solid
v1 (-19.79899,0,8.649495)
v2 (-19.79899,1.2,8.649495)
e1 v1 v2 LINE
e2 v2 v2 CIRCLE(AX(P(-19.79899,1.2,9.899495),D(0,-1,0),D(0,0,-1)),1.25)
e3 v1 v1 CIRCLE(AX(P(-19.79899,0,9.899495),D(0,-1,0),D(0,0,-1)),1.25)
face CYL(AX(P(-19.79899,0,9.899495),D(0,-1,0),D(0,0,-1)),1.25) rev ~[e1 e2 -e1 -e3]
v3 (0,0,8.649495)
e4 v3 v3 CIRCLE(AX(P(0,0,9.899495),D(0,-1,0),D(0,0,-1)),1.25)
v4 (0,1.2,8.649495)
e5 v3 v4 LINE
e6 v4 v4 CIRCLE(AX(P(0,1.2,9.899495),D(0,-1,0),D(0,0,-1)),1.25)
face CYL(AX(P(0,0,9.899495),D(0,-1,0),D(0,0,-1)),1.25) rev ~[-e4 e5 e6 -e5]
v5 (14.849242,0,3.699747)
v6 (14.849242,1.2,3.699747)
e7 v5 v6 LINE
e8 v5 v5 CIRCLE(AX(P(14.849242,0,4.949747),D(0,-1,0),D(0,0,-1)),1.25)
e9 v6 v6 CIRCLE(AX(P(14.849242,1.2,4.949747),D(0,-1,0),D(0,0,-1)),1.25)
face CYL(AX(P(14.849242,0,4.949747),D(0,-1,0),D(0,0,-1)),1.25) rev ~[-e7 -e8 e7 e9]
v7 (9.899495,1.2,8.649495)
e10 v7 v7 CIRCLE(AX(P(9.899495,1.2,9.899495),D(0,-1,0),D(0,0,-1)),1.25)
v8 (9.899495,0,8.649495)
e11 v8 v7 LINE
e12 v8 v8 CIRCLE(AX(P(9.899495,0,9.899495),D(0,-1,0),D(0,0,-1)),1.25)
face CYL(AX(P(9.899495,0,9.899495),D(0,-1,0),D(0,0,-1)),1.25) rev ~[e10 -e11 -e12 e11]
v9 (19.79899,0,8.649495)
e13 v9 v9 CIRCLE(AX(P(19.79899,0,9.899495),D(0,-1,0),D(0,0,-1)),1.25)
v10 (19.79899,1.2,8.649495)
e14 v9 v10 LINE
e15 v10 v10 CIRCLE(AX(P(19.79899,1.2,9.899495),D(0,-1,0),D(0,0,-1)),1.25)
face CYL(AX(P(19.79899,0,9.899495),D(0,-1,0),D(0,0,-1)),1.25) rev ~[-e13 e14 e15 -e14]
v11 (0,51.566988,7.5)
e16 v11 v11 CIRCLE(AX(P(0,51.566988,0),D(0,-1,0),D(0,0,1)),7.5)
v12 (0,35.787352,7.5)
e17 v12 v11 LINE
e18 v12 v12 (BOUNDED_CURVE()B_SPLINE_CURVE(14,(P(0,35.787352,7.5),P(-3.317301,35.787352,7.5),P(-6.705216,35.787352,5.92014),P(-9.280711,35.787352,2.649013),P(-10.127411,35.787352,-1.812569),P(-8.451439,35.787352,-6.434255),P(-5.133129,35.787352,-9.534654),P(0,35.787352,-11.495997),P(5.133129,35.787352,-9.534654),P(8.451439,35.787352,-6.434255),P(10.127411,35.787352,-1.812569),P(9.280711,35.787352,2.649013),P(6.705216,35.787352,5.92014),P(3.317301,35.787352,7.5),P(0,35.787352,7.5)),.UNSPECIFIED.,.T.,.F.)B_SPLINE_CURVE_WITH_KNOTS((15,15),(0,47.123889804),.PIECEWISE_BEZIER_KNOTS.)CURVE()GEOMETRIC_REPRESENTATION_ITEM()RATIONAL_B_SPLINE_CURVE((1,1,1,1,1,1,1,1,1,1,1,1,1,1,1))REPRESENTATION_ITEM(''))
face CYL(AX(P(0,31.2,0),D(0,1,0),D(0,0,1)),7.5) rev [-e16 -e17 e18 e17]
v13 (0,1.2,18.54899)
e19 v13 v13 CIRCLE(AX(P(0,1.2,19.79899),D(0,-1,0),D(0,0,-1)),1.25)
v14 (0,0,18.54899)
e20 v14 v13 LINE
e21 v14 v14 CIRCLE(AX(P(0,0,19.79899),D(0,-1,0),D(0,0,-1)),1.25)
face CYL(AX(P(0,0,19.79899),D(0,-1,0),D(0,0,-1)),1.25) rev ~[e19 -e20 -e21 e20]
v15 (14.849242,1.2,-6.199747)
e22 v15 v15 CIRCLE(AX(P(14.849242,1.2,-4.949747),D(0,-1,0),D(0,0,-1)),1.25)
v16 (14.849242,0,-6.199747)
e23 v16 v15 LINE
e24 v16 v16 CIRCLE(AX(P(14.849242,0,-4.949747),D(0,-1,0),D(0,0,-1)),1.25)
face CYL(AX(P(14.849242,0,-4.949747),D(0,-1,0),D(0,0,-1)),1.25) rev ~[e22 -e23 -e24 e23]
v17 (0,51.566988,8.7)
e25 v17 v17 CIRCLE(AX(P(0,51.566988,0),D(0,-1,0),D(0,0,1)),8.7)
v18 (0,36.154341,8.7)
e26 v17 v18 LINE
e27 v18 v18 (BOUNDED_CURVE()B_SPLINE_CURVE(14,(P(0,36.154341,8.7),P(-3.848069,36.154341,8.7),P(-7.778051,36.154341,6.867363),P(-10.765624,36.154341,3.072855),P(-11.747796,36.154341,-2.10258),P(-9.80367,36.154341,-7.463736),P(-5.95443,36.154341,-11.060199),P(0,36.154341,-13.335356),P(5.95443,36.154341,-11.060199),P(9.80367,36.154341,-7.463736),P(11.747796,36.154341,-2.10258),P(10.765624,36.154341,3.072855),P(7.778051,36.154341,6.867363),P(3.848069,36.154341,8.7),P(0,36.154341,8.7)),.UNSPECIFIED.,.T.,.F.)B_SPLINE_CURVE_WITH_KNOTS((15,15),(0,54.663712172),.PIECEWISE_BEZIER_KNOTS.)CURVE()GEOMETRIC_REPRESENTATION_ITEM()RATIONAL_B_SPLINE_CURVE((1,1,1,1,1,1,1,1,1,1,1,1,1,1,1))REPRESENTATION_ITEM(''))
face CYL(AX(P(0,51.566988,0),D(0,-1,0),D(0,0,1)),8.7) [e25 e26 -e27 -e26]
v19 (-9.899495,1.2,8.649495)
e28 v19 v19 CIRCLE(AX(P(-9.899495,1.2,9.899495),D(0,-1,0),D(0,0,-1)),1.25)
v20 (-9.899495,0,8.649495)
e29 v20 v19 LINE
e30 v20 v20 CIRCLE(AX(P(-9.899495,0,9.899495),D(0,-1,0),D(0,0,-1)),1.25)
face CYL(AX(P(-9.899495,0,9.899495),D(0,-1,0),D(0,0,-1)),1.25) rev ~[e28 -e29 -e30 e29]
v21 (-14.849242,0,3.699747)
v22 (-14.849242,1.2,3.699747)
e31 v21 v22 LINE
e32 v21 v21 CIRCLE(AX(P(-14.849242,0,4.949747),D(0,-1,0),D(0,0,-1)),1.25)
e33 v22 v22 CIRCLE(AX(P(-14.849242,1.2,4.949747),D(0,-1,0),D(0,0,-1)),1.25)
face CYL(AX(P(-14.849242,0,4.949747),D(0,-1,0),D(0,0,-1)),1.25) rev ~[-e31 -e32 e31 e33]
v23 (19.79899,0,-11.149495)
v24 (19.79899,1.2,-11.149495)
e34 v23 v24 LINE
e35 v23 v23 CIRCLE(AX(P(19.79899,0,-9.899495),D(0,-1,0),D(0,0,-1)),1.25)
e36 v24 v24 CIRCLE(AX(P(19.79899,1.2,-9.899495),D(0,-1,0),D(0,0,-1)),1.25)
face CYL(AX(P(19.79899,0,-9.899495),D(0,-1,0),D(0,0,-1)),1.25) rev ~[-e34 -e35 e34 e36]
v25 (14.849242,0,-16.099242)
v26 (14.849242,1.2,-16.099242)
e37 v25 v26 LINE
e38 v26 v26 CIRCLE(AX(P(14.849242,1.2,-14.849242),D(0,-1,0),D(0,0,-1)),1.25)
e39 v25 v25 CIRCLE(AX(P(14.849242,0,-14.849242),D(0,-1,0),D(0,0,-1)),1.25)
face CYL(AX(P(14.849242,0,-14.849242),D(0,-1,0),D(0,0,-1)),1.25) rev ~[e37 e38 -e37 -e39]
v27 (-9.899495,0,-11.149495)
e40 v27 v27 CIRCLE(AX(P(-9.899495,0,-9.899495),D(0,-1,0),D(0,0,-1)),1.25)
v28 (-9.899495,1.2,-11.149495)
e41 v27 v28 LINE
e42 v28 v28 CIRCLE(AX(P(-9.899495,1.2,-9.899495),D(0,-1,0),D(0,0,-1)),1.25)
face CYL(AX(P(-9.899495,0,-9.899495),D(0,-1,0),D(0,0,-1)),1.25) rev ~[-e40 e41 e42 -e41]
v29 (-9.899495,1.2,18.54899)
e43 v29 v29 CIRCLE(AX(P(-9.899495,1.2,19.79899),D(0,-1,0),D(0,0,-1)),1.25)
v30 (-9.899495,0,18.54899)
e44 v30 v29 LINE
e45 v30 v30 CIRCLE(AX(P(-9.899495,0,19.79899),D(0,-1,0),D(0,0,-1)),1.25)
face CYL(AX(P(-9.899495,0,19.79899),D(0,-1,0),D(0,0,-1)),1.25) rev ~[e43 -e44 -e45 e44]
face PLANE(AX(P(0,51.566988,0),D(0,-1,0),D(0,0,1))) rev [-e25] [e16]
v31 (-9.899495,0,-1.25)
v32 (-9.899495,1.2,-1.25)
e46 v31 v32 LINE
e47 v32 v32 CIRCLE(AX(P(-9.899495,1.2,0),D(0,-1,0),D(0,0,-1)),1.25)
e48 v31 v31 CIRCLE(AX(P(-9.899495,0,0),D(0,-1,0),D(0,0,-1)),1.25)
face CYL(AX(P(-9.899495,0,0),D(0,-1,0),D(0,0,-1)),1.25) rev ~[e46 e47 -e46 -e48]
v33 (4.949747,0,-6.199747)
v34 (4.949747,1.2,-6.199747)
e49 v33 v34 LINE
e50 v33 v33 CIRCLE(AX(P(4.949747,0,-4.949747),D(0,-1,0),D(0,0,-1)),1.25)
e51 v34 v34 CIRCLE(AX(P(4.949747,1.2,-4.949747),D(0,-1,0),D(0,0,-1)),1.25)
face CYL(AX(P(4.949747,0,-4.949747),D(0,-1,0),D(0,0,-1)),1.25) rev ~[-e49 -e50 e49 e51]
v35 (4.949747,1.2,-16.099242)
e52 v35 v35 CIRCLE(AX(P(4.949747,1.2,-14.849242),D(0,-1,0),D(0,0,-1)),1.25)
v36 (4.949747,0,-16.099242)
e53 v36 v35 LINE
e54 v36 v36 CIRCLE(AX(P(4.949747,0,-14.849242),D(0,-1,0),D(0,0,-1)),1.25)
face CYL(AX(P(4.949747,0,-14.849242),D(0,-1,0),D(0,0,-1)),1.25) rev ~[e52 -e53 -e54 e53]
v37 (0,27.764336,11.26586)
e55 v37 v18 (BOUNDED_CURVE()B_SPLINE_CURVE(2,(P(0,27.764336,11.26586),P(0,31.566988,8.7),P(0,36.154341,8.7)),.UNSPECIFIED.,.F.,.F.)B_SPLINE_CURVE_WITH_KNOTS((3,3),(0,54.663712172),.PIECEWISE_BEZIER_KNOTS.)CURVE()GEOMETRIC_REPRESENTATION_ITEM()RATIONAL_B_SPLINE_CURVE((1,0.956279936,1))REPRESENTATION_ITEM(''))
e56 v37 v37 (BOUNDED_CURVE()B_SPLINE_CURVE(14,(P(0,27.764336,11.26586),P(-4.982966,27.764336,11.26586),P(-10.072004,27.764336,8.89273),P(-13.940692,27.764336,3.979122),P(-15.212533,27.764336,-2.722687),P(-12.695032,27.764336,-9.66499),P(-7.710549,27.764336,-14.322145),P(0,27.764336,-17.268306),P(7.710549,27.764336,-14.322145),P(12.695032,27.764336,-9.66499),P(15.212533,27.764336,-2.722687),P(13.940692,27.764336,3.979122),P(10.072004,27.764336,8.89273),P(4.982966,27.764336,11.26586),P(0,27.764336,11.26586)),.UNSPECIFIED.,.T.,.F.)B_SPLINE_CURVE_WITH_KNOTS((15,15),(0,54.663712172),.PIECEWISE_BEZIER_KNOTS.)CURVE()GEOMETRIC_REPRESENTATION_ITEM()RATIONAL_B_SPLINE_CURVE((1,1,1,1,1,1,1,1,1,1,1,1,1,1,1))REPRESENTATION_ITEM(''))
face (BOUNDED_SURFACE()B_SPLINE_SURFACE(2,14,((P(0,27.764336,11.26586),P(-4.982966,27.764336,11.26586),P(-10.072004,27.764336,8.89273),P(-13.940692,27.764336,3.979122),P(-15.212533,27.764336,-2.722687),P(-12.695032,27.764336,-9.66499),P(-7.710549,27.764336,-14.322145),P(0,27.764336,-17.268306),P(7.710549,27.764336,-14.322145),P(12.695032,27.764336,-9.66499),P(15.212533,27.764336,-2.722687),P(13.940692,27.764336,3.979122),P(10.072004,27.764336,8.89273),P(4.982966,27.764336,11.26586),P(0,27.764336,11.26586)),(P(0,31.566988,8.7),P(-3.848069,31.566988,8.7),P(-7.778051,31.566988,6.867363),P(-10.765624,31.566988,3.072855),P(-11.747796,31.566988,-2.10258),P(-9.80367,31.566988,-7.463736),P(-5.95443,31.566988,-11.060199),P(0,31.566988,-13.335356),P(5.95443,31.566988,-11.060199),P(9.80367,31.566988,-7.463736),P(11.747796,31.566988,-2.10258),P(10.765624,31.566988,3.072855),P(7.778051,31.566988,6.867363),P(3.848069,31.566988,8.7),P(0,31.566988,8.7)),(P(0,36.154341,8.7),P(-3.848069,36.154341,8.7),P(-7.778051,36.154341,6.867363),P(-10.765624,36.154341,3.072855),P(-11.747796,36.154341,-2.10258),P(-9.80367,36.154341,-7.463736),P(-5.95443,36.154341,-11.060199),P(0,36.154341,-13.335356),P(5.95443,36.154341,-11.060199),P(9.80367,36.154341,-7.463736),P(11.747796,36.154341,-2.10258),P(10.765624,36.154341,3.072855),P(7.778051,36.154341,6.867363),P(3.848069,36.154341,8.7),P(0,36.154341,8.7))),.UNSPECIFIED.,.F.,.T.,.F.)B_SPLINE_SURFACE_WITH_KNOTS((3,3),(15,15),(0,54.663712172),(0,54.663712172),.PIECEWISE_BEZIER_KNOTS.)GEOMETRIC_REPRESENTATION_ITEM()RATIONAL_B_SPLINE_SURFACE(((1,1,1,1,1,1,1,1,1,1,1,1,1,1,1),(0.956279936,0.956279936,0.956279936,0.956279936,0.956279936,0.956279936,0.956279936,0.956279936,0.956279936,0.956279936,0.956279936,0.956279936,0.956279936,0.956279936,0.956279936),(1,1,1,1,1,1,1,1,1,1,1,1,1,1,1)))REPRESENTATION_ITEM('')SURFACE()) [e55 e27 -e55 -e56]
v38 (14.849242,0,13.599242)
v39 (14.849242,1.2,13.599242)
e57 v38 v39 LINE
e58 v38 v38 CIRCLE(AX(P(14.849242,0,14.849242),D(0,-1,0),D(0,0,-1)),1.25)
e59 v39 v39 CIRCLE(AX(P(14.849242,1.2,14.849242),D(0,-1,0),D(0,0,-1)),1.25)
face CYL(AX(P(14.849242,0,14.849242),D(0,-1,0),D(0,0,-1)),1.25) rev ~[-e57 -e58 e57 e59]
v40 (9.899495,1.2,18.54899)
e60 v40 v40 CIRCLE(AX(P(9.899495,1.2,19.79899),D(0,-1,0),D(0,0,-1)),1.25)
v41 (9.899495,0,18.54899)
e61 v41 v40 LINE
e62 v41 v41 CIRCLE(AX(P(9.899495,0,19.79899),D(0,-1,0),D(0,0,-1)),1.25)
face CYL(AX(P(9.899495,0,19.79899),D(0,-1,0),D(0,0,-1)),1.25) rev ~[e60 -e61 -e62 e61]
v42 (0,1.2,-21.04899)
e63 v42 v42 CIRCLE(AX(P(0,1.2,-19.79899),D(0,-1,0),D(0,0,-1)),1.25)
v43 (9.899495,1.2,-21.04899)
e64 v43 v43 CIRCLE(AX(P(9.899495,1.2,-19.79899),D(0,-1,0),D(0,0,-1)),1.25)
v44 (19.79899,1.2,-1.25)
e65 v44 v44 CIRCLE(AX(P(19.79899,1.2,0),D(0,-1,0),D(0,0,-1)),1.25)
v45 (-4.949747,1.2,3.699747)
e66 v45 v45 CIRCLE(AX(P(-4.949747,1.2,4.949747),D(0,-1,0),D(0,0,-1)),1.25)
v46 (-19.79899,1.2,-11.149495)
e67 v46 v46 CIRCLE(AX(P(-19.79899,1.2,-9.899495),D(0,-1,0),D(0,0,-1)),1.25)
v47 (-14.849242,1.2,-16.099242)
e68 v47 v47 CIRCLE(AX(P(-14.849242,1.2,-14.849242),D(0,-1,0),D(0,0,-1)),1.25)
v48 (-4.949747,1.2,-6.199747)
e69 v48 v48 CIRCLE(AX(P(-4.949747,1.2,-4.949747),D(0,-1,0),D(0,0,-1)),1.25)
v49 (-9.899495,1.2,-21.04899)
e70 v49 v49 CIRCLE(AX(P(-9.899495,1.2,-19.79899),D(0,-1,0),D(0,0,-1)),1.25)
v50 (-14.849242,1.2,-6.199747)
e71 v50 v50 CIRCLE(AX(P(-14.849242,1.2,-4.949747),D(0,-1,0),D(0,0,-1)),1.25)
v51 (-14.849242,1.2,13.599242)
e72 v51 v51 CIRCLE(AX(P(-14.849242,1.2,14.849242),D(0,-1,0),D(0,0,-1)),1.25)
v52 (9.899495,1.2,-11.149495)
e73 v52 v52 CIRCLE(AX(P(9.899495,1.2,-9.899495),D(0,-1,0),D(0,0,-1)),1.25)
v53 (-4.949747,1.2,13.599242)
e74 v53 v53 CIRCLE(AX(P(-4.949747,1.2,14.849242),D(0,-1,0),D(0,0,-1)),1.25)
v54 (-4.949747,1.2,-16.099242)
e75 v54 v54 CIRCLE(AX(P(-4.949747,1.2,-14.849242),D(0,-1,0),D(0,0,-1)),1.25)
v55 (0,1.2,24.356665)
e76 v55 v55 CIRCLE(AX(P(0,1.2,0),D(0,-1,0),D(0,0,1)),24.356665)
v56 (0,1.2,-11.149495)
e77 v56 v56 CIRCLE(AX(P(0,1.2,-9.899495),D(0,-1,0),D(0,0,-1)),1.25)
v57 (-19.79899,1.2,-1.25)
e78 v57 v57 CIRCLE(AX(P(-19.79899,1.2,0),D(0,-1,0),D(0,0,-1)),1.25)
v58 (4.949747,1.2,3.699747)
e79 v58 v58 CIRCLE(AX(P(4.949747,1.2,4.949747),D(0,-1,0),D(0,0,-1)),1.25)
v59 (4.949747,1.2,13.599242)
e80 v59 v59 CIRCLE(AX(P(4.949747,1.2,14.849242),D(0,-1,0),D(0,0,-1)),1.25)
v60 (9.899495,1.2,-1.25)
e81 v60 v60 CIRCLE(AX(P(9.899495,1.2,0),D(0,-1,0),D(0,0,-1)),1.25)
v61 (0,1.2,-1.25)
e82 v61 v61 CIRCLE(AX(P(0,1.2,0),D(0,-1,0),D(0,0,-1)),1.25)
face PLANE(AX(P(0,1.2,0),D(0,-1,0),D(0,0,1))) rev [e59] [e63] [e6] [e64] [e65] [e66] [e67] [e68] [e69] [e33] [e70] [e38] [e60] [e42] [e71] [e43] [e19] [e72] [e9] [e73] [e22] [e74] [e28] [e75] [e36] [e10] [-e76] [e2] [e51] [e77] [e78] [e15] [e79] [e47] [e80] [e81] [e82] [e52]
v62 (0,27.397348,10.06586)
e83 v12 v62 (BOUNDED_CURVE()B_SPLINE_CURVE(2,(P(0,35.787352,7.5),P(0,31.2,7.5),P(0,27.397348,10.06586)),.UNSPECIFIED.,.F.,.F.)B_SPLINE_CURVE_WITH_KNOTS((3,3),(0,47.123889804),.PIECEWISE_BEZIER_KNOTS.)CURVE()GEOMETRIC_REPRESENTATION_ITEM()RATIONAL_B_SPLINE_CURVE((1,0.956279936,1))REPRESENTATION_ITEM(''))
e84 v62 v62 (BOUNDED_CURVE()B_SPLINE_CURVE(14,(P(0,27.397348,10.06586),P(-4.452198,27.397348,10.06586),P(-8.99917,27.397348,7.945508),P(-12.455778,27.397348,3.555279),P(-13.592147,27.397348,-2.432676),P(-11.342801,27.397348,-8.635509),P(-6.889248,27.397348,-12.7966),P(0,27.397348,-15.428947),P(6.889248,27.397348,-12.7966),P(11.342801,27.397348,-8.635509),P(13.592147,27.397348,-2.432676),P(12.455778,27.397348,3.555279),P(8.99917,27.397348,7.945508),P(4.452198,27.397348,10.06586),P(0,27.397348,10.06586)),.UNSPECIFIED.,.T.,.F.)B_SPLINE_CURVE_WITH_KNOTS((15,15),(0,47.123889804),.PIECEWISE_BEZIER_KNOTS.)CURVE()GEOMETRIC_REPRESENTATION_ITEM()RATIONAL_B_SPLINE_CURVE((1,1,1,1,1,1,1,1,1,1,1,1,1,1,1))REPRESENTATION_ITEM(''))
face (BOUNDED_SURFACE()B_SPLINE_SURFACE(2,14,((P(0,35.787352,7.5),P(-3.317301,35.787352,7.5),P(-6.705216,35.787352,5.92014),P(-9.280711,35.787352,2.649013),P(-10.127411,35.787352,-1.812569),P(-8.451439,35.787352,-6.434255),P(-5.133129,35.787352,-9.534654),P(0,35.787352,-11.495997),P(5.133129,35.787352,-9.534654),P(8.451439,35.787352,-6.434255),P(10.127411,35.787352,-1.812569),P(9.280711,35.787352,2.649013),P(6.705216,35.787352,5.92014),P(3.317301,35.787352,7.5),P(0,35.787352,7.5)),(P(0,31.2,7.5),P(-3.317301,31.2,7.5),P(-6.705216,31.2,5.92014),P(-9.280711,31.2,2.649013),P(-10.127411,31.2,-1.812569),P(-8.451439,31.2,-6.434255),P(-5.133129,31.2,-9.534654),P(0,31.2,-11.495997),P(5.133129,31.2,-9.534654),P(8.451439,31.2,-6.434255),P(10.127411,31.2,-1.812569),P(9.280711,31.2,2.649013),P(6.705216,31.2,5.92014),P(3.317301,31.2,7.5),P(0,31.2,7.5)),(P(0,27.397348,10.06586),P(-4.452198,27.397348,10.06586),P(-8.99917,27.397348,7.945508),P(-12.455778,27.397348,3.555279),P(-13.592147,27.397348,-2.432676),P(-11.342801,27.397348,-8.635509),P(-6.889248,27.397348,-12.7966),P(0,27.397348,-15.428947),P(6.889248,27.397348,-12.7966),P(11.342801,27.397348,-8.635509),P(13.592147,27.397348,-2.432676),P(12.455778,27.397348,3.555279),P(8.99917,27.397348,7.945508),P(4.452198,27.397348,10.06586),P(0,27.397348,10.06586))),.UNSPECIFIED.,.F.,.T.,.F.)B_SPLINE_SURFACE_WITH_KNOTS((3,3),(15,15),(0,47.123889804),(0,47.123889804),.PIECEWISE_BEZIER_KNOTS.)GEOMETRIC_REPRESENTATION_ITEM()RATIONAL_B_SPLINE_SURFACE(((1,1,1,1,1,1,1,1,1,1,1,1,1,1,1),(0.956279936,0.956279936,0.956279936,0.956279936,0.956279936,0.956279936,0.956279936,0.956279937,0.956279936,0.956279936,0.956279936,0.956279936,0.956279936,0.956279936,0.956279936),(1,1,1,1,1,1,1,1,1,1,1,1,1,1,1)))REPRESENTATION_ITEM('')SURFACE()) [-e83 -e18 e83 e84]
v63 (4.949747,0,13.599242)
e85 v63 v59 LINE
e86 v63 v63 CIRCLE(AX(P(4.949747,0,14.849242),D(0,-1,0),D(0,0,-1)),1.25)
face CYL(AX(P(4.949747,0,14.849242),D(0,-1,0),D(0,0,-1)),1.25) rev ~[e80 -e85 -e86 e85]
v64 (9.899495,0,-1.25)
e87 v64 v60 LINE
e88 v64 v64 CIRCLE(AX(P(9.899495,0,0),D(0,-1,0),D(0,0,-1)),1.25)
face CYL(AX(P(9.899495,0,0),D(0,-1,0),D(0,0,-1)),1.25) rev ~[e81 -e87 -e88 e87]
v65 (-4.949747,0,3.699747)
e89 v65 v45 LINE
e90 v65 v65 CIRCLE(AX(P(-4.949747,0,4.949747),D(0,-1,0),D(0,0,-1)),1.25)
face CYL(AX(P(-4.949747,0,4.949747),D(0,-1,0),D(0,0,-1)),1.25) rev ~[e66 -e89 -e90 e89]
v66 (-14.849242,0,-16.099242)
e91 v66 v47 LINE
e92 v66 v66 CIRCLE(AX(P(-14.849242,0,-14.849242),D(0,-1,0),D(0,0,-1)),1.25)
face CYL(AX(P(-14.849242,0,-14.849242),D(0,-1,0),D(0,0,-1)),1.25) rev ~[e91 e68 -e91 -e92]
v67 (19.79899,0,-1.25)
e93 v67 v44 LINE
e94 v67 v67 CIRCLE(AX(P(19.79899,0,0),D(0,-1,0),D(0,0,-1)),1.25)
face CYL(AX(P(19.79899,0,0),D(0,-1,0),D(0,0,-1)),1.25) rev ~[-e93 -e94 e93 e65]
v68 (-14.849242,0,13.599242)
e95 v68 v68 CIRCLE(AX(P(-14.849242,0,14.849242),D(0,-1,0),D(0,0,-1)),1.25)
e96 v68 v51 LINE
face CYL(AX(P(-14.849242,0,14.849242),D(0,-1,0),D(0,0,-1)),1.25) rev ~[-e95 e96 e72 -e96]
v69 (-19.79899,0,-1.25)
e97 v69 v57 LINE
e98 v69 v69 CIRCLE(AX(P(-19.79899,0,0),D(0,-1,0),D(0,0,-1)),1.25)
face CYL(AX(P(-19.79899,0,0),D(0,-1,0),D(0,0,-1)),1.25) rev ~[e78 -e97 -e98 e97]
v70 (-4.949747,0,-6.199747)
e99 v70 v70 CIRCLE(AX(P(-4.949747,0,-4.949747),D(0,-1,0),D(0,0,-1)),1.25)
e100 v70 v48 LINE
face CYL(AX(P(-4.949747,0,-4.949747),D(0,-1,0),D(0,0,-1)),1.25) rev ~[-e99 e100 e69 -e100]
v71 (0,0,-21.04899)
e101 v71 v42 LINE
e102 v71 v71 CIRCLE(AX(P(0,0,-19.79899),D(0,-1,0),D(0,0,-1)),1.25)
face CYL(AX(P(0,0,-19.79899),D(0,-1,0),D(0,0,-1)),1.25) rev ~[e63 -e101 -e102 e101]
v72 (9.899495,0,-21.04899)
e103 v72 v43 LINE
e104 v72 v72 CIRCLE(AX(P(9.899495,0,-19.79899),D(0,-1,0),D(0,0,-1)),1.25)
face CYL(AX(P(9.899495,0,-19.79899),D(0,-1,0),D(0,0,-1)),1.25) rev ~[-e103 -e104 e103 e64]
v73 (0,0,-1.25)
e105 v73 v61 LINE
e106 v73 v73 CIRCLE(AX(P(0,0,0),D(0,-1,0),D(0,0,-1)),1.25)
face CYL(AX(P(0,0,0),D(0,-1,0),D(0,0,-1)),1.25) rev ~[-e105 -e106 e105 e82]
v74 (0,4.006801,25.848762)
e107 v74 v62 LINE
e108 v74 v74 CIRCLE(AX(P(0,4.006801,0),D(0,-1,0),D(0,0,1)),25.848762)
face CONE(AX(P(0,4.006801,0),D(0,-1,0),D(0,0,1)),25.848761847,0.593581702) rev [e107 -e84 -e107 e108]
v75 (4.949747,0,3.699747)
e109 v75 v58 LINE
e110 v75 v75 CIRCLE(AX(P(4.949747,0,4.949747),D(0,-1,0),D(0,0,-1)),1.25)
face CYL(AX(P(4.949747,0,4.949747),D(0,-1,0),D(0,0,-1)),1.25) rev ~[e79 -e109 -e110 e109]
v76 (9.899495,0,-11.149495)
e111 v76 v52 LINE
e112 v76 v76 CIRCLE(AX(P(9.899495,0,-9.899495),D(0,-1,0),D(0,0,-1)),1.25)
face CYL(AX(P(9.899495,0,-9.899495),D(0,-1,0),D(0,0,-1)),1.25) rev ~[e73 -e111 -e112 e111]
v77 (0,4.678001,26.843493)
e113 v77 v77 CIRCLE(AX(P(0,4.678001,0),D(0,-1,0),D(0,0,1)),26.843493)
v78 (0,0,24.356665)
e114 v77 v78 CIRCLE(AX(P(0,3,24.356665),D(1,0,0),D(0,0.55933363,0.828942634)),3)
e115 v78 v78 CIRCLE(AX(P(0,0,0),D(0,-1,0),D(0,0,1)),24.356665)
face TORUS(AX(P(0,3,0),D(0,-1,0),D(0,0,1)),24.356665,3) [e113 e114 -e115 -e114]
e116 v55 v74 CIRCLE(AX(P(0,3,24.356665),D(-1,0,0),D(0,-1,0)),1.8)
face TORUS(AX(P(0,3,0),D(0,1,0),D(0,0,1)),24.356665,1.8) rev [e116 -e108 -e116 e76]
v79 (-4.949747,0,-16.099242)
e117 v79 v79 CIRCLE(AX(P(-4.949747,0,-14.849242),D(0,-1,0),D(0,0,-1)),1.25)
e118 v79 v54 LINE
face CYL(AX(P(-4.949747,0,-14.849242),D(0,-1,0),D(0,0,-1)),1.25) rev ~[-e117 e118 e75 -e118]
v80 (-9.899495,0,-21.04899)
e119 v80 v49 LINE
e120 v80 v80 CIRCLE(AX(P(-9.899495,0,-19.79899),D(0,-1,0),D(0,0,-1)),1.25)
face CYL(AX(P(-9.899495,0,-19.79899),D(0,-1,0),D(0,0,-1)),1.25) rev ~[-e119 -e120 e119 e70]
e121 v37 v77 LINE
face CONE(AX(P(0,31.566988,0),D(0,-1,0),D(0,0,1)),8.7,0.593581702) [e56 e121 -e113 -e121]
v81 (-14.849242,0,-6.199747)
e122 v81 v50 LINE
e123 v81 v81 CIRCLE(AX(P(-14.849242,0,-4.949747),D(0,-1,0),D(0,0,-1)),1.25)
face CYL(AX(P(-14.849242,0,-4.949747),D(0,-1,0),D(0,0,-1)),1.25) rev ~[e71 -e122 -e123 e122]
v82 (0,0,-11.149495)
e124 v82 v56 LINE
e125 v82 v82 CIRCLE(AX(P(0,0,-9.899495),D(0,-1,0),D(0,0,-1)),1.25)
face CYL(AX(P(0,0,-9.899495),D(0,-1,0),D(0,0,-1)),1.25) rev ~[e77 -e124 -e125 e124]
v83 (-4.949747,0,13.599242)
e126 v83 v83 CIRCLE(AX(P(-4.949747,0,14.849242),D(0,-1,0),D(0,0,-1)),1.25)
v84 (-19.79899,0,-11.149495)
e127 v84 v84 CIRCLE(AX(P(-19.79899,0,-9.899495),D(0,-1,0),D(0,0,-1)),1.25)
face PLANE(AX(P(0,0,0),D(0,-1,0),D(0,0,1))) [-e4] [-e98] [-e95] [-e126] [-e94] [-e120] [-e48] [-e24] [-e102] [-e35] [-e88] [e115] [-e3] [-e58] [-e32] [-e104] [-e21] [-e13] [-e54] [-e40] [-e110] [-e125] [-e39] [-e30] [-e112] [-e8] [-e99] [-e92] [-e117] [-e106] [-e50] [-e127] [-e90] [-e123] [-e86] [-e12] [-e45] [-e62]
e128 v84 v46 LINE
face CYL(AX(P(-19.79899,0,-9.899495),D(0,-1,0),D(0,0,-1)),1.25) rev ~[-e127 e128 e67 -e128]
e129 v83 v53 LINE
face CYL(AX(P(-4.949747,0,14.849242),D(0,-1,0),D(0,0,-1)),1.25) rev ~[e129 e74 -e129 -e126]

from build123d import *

# Parameters (mm, degrees)
ESQUISSE3_R             = 1.25
ENL_V_MAT_EXTRU_2_DEPTH = 1.2
CONG_1_R                = 15


with BuildPart() as part:
    # Esquisse2 → Révolution1 (revolve)
    with BuildSketch(Plane(origin=(0, 0, 0), x_dir=(0, 0, -1), z_dir=(1, 0, 0)), mode=Mode.PRIVATE) as r_volution1_sk:
        with BuildLine():
            Line((8.7, 31.566988195), (26.843493008, 4.67800089))
            ThreePointArc((26.843493008, 4.67800089), (27.005627419, 1.591810146), (24.356665106, 0))
            Line((24.356665106, 0), (0, 0))
            Line((0, 0), (0, 1.2))
            Line((0, 1.2), (24.356665106, 1.2))
            ThreePointArc((24.356665106, 1.2), (25.946042494, 2.155086088), (25.848761847, 4.006800534))
            Line((25.848761847, 4.006800534), (7.5, 31.2))
            Line((7.5, 31.2), (7.5, 51.566988195))
            Line((7.5, 51.566988195), (8.7, 51.566988195))
            Line((8.7, 51.566988195), (8.7, 31.566988195))
        make_face()
    revolve(r_volution1_sk.sketch.rotate(Axis((0, 1.2, 0), (0, -1, 0)), 180), axis=Axis((0, 1.2, 0), (0, -1, 0)))

    # Esquisse3 → Enlèv. mat.-Extru.2 (cut)
    with BuildSketch(Plane.XZ):
        with Locations(Location((-9.899494937, 0, 0), (0, 0, 270))):
            Circle(ESQUISSE3_R)
        with Locations(Location((-4.949747468, -4.949747468, 0), (0, 0, 270))):
            Circle(ESQUISSE3_R)
        with Locations(Location((0, 0, 0), (0, 0, 270))):
            Circle(ESQUISSE3_R)
        with Locations(Location((4.949747468, 4.949747468, 0), (0, 0, 270))):
            Circle(ESQUISSE3_R)
        with Locations(Location((9.899494937, 19.798989873, 0), (0, 0, 270))):
            Circle(ESQUISSE3_R)
        with Locations(Location((4.949747468, 14.849242405, 0), (0, 0, 270))):
            Circle(ESQUISSE3_R)
        with Locations(Location((14.849242405, 14.849242405, 0), (0, 0, 270))):
            Circle(ESQUISSE3_R)
        with Locations(Location((19.798989873, 9.899494937, 0), (0, 0, 270))):
            Circle(ESQUISSE3_R)
        with Locations(Location((14.849242405, 4.949747468, 0), (0, 0, 270))):
            Circle(ESQUISSE3_R)
        with Locations(Location((19.798989873, 0, 0), (0, 0, 270))):
            Circle(ESQUISSE3_R)
        with Locations(Location((14.849242405, -4.949747468, 0), (0, 0, 270))):
            Circle(ESQUISSE3_R)
        with Locations(Location((-19.798989873, 0, 0), (0, 0, 270))):
            Circle(ESQUISSE3_R)
        with Locations(Location((-14.849242405, 4.949747468, 0), (0, 0, 270))):
            Circle(ESQUISSE3_R)
        with Locations(Location((-19.798989873, 9.899494937, 0), (0, 0, 270))):
            Circle(ESQUISSE3_R)
        with Locations(Location((-14.849242405, 14.849242405, 0), (0, 0, 270))):
            Circle(ESQUISSE3_R)
        with Locations(Location((-9.899494937, 19.798989873, 0), (0, 0, 270))):
            Circle(ESQUISSE3_R)
        with Locations(Location((0, 19.798989873, 0), (0, 0, 270))):
            Circle(ESQUISSE3_R)
        with Locations(Location((-4.949747468, 14.849242405, 0), (0, 0, 270))):
            Circle(ESQUISSE3_R)
        with Locations(Location((-9.899494937, 9.899494937, 0), (0, 0, 270))):
            Circle(ESQUISSE3_R)
        with Locations(Location((-4.949747468, 4.949747468, 0), (0, 0, 270))):
            Circle(ESQUISSE3_R)
        with Locations(Location((0, 9.899494937, 0), (0, 0, 270))):
            Circle(ESQUISSE3_R)
        with Locations(Location((9.899494937, 9.899494937, 0), (0, 0, 270))):
            Circle(ESQUISSE3_R)
        with Locations(Location((9.899494937, 0, 0), (0, 0, 270))):
            Circle(ESQUISSE3_R)
        with Locations(Location((4.949747468, -4.949747468, 0), (0, 0, 270))):
            Circle(ESQUISSE3_R)
        with Locations(Location((0, -9.899494937, 0), (0, 0, 270))):
            Circle(ESQUISSE3_R)
        with Locations(Location((-9.899494937, -9.899494937, 0), (0, 0, 270))):
            Circle(ESQUISSE3_R)
        with Locations(Location((-14.849242405, -4.949747468, 0), (0, 0, 270))):
            Circle(ESQUISSE3_R)
        with Locations(Location((-19.798989873, -9.899494937, 0), (0, 0, 270))):
            Circle(ESQUISSE3_R)
        with Locations(Location((-14.849242405, -14.849242405, 0), (0, 0, 270))):
            Circle(ESQUISSE3_R)
        with Locations(Location((-9.899494937, -19.798989873, 0), (0, 0, 270))):
            Circle(ESQUISSE3_R)
        with Locations(Location((-4.949747468, -14.849242405, 0), (0, 0, 270))):
            Circle(ESQUISSE3_R)
        with Locations(Location((0, -19.798989873, 0), (0, 0, 270))):
            Circle(ESQUISSE3_R)
        with Locations(Location((4.949747468, -14.849242405, 0), (0, 0, 270))):
            Circle(ESQUISSE3_R)
        with Locations(Location((9.899494937, -9.899494937, 0), (0, 0, 270))):
            Circle(ESQUISSE3_R)
        with Locations(Location((9.899494937, -19.798989873, 0), (0, 0, 270))):
            Circle(ESQUISSE3_R)
        with Locations(Location((14.849242405, -14.849242405, 0), (0, 0, 270))):
            Circle(ESQUISSE3_R)
        with Locations(Location((19.798989873, -9.899494937, 0), (0, 0, 270))):
            Circle(ESQUISSE3_R)
    extrude(amount=-ENL_V_MAT_EXTRU_2_DEPTH, mode=Mode.SUBTRACT)

    # Congé1
    cong_1_edges = [part.edges().sort_by_distance(p)[0] for p in [
        (0, 31.566988195, -8.7),
        (0, 31.2, -7.5),
    ]]
    fillet(cong_1_edges, radius=CONG_1_R)


solid = part.part
